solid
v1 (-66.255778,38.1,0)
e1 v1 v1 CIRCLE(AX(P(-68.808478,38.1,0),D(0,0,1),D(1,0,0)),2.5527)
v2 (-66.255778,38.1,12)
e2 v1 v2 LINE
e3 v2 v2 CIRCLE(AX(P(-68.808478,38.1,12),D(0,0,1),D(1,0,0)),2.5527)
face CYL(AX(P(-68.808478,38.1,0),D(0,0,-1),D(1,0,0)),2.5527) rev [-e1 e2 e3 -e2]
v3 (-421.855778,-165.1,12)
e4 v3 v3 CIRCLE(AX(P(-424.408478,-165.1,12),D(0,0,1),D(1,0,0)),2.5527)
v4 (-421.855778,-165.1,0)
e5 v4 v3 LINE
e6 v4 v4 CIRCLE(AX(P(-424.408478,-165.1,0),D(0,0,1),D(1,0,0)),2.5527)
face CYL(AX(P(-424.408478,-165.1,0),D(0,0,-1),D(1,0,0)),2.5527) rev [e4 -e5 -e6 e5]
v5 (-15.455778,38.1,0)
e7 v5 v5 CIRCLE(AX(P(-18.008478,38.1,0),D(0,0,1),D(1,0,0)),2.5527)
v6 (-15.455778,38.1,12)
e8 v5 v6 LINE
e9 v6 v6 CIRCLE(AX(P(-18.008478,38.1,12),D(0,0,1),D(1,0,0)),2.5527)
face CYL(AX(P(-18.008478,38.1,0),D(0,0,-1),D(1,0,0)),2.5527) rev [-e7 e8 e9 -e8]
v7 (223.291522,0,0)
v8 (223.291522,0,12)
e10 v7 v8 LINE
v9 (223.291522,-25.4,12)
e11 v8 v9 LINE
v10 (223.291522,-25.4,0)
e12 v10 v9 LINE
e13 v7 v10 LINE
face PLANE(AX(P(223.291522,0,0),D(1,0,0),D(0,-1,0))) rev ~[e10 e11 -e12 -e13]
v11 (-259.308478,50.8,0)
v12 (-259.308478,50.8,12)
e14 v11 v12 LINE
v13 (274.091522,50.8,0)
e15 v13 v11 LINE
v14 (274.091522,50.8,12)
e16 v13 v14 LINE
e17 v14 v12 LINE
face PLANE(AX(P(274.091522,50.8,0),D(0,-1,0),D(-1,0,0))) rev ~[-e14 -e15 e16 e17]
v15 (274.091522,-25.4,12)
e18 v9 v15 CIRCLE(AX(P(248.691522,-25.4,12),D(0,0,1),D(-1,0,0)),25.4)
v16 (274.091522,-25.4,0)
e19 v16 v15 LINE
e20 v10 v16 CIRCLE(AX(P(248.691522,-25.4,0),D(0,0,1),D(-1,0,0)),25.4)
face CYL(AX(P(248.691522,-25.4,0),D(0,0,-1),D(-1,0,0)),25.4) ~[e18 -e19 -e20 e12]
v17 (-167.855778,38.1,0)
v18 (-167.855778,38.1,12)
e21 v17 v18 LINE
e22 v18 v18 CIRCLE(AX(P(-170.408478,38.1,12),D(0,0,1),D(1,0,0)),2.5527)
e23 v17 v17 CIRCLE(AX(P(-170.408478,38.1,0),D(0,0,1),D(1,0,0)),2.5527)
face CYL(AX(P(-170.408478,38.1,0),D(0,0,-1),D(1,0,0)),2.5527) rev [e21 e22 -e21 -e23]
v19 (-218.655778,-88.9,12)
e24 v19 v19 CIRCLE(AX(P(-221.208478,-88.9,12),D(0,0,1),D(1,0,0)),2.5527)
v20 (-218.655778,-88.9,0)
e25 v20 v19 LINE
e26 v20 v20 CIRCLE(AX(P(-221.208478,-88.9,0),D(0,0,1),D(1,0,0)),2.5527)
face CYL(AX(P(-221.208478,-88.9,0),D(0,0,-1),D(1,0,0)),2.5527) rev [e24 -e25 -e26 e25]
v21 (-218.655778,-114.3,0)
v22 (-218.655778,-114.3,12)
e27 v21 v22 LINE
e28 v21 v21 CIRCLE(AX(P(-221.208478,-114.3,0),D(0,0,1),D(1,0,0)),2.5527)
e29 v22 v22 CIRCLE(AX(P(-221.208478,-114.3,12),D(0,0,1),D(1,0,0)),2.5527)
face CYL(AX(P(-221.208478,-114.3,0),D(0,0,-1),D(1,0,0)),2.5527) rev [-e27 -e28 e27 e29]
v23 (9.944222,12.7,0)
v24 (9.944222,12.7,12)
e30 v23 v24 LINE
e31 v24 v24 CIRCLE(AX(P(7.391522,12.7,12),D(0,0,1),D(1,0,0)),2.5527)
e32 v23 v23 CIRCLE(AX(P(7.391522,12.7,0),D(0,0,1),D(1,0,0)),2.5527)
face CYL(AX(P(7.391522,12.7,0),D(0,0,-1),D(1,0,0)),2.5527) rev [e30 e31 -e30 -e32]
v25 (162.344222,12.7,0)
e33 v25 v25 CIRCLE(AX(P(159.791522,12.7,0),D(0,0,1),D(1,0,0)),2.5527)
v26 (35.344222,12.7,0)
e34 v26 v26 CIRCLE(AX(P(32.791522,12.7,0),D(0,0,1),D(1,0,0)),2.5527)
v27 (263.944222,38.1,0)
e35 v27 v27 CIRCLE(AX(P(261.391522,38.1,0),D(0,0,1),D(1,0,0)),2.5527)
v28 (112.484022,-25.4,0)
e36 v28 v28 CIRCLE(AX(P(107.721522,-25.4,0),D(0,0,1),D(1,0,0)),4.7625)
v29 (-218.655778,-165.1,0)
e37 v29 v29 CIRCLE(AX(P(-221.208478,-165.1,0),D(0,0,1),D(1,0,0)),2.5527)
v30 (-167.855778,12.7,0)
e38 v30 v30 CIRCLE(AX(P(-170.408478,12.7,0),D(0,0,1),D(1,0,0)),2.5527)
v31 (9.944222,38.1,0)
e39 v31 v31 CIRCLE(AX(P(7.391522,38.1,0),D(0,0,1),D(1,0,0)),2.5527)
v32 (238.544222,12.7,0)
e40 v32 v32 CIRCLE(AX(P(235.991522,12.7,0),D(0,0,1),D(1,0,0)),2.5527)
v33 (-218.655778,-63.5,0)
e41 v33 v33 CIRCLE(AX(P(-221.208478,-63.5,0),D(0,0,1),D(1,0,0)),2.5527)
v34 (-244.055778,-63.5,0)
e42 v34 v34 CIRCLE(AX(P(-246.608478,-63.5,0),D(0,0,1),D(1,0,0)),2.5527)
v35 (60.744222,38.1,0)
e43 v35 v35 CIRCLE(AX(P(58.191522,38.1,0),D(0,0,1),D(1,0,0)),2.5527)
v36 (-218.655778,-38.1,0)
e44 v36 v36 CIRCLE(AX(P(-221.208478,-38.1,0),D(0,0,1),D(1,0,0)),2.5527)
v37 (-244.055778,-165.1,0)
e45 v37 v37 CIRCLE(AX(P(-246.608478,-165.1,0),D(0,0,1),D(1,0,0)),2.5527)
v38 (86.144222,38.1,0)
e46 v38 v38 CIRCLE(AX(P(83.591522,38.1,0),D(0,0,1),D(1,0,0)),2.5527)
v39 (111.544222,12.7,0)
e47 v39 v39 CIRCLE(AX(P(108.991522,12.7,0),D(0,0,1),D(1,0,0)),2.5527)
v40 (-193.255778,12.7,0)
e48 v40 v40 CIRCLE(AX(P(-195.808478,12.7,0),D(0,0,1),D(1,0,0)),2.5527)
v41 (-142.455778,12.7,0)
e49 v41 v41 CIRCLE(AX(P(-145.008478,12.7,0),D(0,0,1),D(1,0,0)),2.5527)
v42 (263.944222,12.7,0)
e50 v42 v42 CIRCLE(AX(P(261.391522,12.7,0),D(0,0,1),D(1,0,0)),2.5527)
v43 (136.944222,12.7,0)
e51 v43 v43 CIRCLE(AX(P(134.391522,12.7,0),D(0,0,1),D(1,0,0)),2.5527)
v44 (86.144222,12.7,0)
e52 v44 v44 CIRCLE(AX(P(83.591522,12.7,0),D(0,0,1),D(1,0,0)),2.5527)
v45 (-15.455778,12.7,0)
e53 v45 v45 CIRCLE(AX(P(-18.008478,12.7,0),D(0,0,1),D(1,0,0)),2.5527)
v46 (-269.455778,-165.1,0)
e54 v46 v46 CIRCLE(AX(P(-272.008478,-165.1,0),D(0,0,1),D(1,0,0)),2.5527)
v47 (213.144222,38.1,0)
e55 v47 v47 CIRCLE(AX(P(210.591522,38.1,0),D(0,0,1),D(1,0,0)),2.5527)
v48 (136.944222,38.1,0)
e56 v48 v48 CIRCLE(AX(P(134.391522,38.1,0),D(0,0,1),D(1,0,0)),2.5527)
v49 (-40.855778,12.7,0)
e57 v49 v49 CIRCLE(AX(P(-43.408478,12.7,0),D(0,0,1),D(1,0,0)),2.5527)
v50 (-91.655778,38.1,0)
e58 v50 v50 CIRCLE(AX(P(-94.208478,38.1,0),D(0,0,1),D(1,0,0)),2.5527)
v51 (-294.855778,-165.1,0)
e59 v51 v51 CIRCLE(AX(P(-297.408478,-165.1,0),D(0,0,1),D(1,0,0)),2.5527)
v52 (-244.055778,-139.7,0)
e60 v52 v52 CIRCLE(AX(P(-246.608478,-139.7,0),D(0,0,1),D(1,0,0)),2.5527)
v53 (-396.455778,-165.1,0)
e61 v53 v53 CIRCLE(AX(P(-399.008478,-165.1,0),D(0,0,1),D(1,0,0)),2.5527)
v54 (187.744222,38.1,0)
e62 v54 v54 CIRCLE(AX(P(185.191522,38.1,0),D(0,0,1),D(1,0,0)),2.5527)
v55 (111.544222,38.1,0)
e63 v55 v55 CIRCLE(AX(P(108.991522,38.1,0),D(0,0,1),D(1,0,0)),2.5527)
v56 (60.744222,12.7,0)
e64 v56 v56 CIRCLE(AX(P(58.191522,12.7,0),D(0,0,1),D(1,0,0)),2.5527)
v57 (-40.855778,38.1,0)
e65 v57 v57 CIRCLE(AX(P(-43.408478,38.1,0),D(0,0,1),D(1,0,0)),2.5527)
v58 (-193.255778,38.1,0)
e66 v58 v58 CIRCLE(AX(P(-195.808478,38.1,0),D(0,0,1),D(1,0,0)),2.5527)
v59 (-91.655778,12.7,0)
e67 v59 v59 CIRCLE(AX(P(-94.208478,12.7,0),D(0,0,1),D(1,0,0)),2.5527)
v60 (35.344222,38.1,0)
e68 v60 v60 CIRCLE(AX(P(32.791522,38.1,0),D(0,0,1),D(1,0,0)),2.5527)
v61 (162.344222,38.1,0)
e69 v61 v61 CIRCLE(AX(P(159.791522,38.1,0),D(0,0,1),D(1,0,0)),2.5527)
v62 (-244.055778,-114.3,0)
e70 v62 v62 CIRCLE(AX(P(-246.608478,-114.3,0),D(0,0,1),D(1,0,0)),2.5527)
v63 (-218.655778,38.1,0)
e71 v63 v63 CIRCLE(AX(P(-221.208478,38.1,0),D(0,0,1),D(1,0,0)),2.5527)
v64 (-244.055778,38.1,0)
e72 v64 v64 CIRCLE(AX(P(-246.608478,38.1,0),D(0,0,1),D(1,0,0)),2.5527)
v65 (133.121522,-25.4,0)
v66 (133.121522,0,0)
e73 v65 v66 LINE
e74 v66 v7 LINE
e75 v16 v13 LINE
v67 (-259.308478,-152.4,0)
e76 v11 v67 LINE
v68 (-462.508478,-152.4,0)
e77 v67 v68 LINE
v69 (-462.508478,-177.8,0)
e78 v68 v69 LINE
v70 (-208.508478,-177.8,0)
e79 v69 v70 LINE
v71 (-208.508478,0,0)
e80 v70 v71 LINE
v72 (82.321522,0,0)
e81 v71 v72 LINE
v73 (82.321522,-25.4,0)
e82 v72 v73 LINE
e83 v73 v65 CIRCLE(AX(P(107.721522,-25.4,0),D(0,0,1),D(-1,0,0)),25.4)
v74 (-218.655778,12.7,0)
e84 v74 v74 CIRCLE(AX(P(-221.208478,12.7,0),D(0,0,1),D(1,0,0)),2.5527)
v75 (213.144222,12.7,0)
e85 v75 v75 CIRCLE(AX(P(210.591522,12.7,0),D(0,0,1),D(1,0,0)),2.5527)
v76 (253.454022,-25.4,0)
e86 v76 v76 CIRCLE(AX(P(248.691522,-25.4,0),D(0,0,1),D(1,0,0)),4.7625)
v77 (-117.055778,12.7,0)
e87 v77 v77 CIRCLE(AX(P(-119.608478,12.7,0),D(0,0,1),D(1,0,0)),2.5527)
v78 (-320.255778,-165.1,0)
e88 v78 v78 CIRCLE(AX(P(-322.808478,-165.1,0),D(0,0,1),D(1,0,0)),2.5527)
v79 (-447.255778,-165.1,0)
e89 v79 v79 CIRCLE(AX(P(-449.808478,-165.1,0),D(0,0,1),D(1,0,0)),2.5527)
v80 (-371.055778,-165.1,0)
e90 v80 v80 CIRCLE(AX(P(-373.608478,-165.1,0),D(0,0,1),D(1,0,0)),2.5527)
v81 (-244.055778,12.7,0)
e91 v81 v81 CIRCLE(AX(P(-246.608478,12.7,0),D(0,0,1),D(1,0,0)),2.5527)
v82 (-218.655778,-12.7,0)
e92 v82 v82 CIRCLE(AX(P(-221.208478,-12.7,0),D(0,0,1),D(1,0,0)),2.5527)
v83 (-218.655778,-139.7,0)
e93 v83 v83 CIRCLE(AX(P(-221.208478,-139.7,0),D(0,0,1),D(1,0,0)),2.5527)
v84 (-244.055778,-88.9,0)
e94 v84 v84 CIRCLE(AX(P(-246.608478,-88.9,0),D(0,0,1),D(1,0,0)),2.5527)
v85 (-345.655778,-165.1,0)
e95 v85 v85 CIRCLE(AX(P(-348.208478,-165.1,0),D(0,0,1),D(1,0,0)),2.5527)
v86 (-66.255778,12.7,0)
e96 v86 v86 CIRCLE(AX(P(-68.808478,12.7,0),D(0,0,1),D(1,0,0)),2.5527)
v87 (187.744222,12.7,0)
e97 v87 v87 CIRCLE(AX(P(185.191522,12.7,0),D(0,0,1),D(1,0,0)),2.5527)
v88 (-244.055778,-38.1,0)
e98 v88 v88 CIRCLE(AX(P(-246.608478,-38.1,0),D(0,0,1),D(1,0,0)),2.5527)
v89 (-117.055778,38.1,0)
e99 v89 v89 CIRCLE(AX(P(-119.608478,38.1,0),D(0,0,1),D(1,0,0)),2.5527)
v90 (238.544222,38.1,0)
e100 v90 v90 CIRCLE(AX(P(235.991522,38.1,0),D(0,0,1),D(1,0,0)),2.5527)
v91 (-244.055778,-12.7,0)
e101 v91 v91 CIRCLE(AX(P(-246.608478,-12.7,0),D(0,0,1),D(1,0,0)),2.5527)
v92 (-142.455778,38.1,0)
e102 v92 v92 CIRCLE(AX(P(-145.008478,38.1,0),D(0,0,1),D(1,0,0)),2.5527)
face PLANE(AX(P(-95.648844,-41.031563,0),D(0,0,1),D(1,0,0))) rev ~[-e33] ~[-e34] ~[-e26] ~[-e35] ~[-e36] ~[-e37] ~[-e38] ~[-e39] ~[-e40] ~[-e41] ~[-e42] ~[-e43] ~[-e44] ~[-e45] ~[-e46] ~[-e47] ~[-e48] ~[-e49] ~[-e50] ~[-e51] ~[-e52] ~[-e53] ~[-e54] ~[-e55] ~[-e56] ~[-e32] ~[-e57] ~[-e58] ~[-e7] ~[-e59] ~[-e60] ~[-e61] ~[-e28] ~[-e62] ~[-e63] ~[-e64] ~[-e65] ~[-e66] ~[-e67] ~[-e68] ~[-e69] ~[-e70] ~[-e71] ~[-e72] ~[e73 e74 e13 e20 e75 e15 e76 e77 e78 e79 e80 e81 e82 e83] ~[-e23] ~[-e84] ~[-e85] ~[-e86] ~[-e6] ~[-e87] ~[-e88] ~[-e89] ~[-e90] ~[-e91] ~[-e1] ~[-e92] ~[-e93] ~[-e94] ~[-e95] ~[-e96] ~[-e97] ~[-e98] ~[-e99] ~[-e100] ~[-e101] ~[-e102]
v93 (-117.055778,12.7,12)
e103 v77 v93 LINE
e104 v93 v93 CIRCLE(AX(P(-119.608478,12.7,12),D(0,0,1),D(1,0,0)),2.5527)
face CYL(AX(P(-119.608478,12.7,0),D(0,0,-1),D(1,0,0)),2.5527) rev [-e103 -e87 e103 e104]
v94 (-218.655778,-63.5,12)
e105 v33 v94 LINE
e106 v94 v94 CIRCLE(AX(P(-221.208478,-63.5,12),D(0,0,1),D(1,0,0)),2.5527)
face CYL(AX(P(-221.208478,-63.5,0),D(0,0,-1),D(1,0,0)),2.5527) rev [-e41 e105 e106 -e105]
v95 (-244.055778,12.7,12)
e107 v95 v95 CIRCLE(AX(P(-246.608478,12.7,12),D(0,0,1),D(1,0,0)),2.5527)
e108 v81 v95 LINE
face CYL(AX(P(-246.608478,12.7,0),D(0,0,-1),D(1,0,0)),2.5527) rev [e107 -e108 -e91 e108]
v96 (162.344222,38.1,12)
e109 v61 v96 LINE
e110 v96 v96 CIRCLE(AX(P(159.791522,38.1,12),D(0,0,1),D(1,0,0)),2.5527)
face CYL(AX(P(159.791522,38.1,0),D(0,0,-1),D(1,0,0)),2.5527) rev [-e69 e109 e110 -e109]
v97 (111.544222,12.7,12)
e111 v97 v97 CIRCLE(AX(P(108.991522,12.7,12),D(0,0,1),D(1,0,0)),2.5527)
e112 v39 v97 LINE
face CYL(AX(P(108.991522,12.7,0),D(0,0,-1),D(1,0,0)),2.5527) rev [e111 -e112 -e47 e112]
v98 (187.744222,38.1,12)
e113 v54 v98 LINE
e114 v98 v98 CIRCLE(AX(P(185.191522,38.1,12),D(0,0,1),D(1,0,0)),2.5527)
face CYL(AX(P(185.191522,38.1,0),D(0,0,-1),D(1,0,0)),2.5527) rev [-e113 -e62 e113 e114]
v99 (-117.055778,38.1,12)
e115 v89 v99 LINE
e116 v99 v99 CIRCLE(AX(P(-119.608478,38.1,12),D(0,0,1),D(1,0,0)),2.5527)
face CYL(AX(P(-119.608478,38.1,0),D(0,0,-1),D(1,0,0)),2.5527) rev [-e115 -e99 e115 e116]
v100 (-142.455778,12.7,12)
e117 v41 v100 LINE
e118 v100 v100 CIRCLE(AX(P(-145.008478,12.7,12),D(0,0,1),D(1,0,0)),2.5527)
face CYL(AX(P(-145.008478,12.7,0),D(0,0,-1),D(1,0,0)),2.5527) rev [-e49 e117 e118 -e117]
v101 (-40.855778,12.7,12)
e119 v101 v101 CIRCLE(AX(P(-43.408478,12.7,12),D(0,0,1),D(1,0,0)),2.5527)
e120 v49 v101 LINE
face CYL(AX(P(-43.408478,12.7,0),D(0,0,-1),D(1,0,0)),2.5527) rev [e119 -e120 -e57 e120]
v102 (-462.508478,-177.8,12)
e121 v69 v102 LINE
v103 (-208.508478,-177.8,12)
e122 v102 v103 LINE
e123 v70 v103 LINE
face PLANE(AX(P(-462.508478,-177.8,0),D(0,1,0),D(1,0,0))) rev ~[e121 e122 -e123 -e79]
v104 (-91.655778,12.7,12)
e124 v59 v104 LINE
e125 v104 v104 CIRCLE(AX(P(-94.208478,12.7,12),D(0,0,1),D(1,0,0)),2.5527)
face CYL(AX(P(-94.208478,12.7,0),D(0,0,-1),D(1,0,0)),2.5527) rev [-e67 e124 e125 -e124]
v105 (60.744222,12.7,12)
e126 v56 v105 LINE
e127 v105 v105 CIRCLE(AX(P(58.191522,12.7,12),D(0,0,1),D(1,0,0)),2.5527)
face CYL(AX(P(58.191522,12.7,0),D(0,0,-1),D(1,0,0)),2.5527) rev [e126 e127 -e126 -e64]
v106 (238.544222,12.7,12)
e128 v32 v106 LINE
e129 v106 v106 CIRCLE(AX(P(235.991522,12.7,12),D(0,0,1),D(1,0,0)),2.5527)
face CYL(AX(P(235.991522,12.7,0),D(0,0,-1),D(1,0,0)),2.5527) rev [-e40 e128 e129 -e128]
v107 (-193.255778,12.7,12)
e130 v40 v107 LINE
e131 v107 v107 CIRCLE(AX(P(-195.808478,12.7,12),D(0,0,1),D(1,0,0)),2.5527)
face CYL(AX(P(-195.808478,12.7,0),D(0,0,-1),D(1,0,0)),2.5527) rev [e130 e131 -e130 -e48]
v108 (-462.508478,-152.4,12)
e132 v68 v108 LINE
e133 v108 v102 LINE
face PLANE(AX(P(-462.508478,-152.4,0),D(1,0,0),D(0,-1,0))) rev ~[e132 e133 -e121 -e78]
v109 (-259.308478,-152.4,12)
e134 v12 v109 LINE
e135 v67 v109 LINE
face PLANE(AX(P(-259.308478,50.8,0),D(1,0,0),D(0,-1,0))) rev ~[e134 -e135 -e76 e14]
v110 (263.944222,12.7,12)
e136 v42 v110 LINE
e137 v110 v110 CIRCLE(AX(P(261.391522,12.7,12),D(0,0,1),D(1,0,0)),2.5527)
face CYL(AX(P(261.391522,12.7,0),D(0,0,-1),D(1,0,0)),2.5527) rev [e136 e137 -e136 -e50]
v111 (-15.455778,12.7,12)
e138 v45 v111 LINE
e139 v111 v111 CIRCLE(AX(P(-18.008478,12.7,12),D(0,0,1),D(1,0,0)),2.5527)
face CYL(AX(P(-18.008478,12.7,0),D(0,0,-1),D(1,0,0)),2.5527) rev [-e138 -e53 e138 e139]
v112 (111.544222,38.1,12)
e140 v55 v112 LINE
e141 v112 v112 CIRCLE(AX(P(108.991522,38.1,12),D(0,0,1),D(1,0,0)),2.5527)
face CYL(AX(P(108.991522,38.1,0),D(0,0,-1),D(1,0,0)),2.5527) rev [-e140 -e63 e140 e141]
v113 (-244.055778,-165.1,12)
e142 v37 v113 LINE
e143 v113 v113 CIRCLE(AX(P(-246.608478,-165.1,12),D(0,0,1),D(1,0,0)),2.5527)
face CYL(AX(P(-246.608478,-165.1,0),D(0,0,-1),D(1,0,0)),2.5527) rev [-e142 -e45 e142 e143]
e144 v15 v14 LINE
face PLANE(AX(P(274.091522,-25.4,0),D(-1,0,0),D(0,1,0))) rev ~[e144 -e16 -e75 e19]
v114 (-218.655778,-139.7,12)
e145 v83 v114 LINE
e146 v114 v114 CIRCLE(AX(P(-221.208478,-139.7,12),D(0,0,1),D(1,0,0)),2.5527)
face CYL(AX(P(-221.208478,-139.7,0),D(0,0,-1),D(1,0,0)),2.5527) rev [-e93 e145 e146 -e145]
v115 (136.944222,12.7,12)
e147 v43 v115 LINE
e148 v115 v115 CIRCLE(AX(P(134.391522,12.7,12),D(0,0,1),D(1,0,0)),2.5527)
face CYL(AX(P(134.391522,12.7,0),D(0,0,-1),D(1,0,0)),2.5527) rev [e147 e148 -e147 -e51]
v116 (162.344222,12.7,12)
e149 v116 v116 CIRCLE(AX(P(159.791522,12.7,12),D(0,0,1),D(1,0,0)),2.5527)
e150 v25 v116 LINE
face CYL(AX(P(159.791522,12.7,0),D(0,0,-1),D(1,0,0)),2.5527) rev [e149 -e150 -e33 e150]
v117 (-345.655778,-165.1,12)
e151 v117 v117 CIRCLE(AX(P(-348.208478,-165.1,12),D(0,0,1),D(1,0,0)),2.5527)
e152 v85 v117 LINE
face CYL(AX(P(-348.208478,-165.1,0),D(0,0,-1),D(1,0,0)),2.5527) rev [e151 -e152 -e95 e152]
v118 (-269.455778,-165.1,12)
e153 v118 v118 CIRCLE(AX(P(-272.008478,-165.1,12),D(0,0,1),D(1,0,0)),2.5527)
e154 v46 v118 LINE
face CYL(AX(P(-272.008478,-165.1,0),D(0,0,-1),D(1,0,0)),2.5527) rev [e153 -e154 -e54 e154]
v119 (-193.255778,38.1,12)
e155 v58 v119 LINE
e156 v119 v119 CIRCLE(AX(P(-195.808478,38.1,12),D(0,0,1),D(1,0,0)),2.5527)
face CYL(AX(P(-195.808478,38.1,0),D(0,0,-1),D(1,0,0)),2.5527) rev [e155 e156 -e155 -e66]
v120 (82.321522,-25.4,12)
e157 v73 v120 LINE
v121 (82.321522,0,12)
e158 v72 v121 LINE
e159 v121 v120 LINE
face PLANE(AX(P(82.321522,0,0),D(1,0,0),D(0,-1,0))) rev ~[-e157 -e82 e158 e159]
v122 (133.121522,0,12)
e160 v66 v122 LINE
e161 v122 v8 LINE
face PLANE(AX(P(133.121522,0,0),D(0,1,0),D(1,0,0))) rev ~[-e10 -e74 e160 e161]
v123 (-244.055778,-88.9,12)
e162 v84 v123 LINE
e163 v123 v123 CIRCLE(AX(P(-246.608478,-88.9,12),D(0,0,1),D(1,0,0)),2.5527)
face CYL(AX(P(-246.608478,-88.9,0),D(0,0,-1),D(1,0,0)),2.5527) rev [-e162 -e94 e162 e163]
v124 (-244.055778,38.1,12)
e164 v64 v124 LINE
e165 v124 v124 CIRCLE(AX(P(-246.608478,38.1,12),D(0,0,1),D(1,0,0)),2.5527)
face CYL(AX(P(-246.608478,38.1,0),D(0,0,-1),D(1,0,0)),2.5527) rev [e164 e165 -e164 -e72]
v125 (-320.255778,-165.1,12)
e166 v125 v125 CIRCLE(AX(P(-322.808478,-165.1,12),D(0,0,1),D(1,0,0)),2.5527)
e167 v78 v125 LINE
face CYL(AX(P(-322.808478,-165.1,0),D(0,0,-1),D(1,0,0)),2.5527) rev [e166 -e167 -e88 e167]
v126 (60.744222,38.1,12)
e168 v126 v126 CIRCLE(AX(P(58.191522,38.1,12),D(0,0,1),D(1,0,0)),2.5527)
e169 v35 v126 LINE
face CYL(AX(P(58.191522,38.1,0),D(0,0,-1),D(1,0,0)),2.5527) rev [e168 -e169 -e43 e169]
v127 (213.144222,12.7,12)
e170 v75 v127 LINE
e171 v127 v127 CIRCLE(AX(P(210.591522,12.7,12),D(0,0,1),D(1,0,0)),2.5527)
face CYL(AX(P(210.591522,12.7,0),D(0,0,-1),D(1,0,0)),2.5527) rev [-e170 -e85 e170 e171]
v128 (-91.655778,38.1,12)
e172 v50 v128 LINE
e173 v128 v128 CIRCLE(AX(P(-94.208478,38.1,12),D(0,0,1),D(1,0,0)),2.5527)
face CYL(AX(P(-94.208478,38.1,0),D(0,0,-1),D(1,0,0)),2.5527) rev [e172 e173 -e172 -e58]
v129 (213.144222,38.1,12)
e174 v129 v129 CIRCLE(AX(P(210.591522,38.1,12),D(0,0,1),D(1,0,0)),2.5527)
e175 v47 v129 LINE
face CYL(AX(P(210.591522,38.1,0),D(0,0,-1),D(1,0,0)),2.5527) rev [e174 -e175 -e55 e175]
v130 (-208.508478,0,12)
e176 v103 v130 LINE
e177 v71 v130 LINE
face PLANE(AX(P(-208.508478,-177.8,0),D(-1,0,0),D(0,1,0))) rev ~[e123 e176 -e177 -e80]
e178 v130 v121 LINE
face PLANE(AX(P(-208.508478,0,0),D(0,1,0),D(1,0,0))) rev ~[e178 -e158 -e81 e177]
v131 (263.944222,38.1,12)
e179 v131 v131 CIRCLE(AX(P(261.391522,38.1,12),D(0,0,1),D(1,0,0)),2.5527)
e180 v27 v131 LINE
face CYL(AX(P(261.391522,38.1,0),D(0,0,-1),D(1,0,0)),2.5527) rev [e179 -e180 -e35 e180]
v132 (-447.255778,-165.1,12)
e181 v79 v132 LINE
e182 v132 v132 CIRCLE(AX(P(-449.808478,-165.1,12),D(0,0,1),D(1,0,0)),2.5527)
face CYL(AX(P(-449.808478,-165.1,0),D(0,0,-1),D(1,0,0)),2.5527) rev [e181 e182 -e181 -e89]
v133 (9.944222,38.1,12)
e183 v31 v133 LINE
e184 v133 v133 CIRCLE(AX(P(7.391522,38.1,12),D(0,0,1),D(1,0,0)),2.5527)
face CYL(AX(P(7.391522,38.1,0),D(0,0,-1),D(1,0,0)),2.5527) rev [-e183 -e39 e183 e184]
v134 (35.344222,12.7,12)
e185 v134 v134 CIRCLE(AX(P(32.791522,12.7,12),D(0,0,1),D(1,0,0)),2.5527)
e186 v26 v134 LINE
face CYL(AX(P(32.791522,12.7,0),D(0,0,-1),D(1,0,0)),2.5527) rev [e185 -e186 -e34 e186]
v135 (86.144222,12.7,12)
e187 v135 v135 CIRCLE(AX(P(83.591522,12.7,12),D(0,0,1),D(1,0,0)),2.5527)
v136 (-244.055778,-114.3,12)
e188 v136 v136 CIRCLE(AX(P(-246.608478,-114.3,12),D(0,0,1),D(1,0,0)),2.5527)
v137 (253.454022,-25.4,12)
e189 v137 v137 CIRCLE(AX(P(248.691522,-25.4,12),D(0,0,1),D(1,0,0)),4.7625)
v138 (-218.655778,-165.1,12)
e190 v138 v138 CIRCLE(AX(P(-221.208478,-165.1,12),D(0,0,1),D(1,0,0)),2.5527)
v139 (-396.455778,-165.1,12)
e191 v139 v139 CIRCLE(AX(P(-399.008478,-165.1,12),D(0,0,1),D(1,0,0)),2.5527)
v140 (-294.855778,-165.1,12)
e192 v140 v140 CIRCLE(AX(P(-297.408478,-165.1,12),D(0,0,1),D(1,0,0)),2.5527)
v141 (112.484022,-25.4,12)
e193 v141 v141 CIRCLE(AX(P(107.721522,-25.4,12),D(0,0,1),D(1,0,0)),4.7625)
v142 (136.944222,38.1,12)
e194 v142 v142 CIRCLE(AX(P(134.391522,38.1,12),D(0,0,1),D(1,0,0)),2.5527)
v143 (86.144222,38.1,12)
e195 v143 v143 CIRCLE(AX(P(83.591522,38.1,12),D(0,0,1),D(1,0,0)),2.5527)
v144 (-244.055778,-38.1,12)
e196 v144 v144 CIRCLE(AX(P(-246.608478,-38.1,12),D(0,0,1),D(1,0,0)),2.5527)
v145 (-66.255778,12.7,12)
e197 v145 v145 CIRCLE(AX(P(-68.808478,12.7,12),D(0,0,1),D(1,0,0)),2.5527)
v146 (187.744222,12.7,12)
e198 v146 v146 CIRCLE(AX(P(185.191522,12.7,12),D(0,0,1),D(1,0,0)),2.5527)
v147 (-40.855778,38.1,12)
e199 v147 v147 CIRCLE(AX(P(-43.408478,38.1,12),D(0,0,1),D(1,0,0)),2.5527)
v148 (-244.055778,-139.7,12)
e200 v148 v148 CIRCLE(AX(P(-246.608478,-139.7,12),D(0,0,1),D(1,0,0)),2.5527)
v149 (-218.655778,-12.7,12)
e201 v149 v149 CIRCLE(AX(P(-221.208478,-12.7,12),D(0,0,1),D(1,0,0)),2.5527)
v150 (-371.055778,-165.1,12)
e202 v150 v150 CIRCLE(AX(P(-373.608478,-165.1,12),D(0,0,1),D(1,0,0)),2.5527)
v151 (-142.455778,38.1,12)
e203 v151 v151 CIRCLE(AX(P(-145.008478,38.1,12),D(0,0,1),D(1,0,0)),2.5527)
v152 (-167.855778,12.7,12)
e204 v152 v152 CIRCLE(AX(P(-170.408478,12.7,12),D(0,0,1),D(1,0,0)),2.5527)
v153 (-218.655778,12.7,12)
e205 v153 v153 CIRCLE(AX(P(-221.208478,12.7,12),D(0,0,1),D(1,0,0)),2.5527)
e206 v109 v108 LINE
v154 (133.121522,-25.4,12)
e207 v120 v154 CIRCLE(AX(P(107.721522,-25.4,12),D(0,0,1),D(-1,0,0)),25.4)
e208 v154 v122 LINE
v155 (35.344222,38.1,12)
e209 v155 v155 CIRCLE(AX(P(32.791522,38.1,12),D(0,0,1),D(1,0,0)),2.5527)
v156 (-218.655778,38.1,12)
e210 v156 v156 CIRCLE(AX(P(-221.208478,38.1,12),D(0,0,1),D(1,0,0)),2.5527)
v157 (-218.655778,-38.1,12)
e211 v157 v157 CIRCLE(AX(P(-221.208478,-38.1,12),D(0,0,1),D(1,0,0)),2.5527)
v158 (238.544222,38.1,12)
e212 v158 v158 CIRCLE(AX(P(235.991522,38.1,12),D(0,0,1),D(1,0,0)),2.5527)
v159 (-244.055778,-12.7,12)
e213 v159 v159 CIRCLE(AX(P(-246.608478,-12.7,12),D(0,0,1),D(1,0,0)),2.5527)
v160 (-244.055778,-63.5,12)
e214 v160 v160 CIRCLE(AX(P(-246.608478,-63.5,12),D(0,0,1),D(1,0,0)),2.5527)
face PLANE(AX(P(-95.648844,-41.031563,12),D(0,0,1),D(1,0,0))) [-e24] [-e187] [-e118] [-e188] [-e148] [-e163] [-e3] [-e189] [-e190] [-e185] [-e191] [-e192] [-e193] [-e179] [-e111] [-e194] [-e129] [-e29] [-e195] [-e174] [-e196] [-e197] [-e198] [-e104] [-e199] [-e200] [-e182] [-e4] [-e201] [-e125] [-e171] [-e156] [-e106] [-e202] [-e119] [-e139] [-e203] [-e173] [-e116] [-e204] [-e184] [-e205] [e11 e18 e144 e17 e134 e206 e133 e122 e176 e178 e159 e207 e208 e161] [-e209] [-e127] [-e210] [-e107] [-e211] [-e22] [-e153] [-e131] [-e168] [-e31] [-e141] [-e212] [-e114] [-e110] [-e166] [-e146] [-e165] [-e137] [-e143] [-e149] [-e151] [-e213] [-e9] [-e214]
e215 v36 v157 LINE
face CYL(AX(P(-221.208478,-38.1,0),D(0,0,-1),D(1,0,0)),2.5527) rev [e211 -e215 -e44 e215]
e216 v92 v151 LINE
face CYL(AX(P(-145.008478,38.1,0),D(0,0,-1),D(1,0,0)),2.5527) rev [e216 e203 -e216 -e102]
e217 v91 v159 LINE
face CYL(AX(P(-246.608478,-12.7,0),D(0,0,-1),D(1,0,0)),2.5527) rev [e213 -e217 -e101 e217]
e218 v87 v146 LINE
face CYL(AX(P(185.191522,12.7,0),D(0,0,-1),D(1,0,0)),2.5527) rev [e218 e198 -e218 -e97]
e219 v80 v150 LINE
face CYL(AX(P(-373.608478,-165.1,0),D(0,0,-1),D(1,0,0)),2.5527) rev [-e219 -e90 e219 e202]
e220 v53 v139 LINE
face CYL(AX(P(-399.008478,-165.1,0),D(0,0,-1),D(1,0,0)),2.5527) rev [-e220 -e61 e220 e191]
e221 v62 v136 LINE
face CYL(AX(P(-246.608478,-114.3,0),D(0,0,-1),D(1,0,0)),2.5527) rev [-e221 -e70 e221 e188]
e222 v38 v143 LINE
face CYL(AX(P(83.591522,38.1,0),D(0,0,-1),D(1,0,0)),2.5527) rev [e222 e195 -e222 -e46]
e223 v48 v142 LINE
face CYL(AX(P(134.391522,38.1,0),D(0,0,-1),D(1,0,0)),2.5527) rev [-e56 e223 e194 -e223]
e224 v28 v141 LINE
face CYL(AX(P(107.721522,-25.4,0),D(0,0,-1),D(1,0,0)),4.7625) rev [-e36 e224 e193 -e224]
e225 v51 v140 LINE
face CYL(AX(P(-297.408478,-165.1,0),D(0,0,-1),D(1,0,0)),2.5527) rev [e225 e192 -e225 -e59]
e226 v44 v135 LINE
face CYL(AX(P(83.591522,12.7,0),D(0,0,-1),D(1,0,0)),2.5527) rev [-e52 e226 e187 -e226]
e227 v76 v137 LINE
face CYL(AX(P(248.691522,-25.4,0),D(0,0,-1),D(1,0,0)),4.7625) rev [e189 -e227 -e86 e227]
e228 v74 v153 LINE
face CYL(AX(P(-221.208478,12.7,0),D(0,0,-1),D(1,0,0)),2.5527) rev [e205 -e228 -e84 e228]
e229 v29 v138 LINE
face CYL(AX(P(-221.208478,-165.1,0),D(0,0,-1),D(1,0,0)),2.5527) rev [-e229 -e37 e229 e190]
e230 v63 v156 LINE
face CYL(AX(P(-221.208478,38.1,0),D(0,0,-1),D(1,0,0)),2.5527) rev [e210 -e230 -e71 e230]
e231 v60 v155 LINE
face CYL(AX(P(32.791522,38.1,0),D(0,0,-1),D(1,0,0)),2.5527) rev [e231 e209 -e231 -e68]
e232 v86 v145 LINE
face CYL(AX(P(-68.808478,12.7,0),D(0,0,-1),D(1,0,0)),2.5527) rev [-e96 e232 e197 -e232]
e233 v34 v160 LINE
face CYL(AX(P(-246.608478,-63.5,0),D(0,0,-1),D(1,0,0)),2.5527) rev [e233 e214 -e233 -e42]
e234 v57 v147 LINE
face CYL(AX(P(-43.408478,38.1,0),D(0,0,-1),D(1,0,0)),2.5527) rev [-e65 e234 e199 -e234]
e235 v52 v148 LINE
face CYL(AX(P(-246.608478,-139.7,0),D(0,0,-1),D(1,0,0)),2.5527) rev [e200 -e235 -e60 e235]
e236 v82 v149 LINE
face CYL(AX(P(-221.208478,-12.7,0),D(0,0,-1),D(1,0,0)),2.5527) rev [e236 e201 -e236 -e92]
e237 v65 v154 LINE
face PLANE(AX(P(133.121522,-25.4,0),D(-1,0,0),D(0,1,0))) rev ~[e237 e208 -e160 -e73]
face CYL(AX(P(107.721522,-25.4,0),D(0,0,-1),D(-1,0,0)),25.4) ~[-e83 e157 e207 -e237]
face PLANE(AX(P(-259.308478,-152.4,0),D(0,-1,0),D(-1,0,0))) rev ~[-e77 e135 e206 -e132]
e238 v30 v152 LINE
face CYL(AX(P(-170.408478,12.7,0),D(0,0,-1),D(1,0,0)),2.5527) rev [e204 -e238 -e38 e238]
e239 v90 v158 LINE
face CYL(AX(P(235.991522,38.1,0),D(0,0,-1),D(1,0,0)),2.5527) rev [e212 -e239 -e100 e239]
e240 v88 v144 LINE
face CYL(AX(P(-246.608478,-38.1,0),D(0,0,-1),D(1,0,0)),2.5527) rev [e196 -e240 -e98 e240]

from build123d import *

# Parameters (mm, degrees)
F0_R     = 2.5527
F0_R_2   = 4.7625
F1_DEPTH = 12


with BuildPart() as f1:
    # F0 (on Top) → F1 (new body)
    with BuildSketch(Plane.XY):
        with BuildLine():
            Line((274.091522, 50.8), (-259.308478, 50.8))
            Line((-259.308478, 50.8), (-259.308478, -152.4))
            Line((-259.308478, -152.4), (-462.508478, -152.4))
            Line((-462.508478, -152.4), (-462.508478, -177.8))
            Line((-462.508478, -177.8), (-208.508478, -177.8))
            Line((-208.508478, -177.8), (-208.508478, 0))
            Line((-208.508478, 0), (82.321522, 0))
            Line((82.321522, 0), (82.321522, -25.4))
            ThreePointArc((82.321522, -25.4), (107.721522, -50.8), (133.121522, -25.4))
            Line((133.121522, -25.4), (133.121522, 0))
            Line((133.121522, 0), (223.291522, 0))
            Line((223.291522, 0), (223.291522, -25.4))
            ThreePointArc((223.291522, -25.4), (248.691522, -50.8), (274.091522, -25.4))
            Line((274.091522, -25.4), (274.091522, 0))
            Line((274.091522, 0), (274.091522, 50.8))
        make_face()
        with Locations((-449.808478, -165.1)):
            Circle(F0_R, mode=Mode.SUBTRACT)
        with Locations((-424.408478, -165.1)):
            Circle(F0_R, mode=Mode.SUBTRACT)
        with Locations((-399.008478, -165.1)):
            Circle(F0_R, mode=Mode.SUBTRACT)
        with Locations((-373.608478, -165.1)):
            Circle(F0_R, mode=Mode.SUBTRACT)
        with Locations((-348.208478, -165.1)):
            Circle(F0_R, mode=Mode.SUBTRACT)
        with Locations((-322.808478, -165.1)):
            Circle(F0_R, mode=Mode.SUBTRACT)
        with Locations((-297.408478, -165.1)):
            Circle(F0_R, mode=Mode.SUBTRACT)
        with Locations((-272.008478, -165.1)):
            Circle(F0_R, mode=Mode.SUBTRACT)
        with Locations((-246.608478, -165.1)):
            Circle(F0_R, mode=Mode.SUBTRACT)
        with Locations((-221.208478, -165.1)):
            Circle(F0_R, mode=Mode.SUBTRACT)
        with Locations((-246.608478, -139.7)):
            Circle(F0_R, mode=Mode.SUBTRACT)
        with Locations((-221.208478, -139.7)):
            Circle(F0_R, mode=Mode.SUBTRACT)
        with Locations((-246.608478, -114.3)):
            Circle(F0_R, mode=Mode.SUBTRACT)
        with Locations((-221.208478, -114.3)):
            Circle(F0_R, mode=Mode.SUBTRACT)
        with Locations((-246.608478, -88.9)):
            Circle(F0_R, mode=Mode.SUBTRACT)
        with Locations((-221.208478, -88.9)):
            Circle(F0_R, mode=Mode.SUBTRACT)
        with Locations((-246.608478, -63.5)):
            Circle(F0_R, mode=Mode.SUBTRACT)
        with Locations((-221.208478, -63.5)):
            Circle(F0_R, mode=Mode.SUBTRACT)
        with Locations((-246.608478, -38.1)):
            Circle(F0_R, mode=Mode.SUBTRACT)
        with Locations((-221.208478, -38.1)):
            Circle(F0_R, mode=Mode.SUBTRACT)
        with Locations((-246.608478, -12.7)):
            Circle(F0_R, mode=Mode.SUBTRACT)
        with Locations((-221.208478, -12.7)):
            Circle(F0_R, mode=Mode.SUBTRACT)
        with Locations((-246.608478, 12.7)):
            Circle(F0_R, mode=Mode.SUBTRACT)
        with Locations((-221.208478, 12.7)):
            Circle(F0_R, mode=Mode.SUBTRACT)
        with Locations((-195.808478, 12.7)):
            Circle(F0_R, mode=Mode.SUBTRACT)
        with Locations((-170.408478, 12.7)):
            Circle(F0_R, mode=Mode.SUBTRACT)
        with Locations((-145.008478, 12.7)):
            Circle(F0_R, mode=Mode.SUBTRACT)
        with Locations((-119.608478, 12.7)):
            Circle(F0_R, mode=Mode.SUBTRACT)
        with Locations((-246.608478, 38.1)):
            Circle(F0_R, mode=Mode.SUBTRACT)
        with Locations((-221.208478, 38.1)):
            Circle(F0_R, mode=Mode.SUBTRACT)
        with Locations((-195.808478, 38.1)):
            Circle(F0_R, mode=Mode.SUBTRACT)
        with Locations((-170.408478, 38.1)):
            Circle(F0_R, mode=Mode.SUBTRACT)
        with Locations((-145.008478, 38.1)):
            Circle(F0_R, mode=Mode.SUBTRACT)
        with Locations((-119.608478, 38.1)):
            Circle(F0_R, mode=Mode.SUBTRACT)
        with Locations((107.721522, -25.4)):
            Circle(F0_R_2, mode=Mode.SUBTRACT)
        with Locations((248.691522, -25.4)):
            Circle(F0_R_2, mode=Mode.SUBTRACT)
        with Locations((-94.208478, 12.7)):
            Circle(F0_R, mode=Mode.SUBTRACT)
        with Locations((-68.808478, 12.7)):
            Circle(F0_R, mode=Mode.SUBTRACT)
        with Locations((-43.408478, 12.7)):
            Circle(F0_R, mode=Mode.SUBTRACT)
        with Locations((-18.008478, 12.7)):
            Circle(F0_R, mode=Mode.SUBTRACT)
        with Locations((7.391522, 12.7)):
            Circle(F0_R, mode=Mode.SUBTRACT)
        with Locations((32.791522, 12.7)):
            Circle(F0_R, mode=Mode.SUBTRACT)
        with Locations((58.191522, 12.7)):
            Circle(F0_R, mode=Mode.SUBTRACT)
        with Locations((83.591522, 12.7)):
            Circle(F0_R, mode=Mode.SUBTRACT)
        with Locations((-94.208478, 38.1)):
            Circle(F0_R, mode=Mode.SUBTRACT)
        with Locations((-68.808478, 38.1)):
            Circle(F0_R, mode=Mode.SUBTRACT)
        with Locations((-43.408478, 38.1)):
            Circle(F0_R, mode=Mode.SUBTRACT)
        with Locations((-18.008478, 38.1)):
            Circle(F0_R, mode=Mode.SUBTRACT)
        with Locations((7.391522, 38.1)):
            Circle(F0_R, mode=Mode.SUBTRACT)
        with Locations((32.791522, 38.1)):
            Circle(F0_R, mode=Mode.SUBTRACT)
        with Locations((58.191522, 38.1)):
            Circle(F0_R, mode=Mode.SUBTRACT)
        with Locations((83.591522, 38.1)):
            Circle(F0_R, mode=Mode.SUBTRACT)
        with Locations((108.991522, 12.7)):
            Circle(F0_R, mode=Mode.SUBTRACT)
        with Locations((134.391522, 12.7)):
            Circle(F0_R, mode=Mode.SUBTRACT)
        with Locations((159.791522, 12.7)):
            Circle(F0_R, mode=Mode.SUBTRACT)
        with Locations((185.191522, 12.7)):
            Circle(F0_R, mode=Mode.SUBTRACT)
        with Locations((210.591522, 12.7)):
            Circle(F0_R, mode=Mode.SUBTRACT)
        with Locations((235.991522, 12.7)):
            Circle(F0_R, mode=Mode.SUBTRACT)
        with Locations((261.391522, 12.7)):
            Circle(F0_R, mode=Mode.SUBTRACT)
        with Locations((108.991522, 38.1)):
            Circle(F0_R, mode=Mode.SUBTRACT)
        with Locations((134.391522, 38.1)):
            Circle(F0_R, mode=Mode.SUBTRACT)
        with Locations((159.791522, 38.1)):
            Circle(F0_R, mode=Mode.SUBTRACT)
        with Locations((185.191522, 38.1)):
            Circle(F0_R, mode=Mode.SUBTRACT)
        with Locations((210.591522, 38.1)):
            Circle(F0_R, mode=Mode.SUBTRACT)
        with Locations((235.991522, 38.1)):
            Circle(F0_R, mode=Mode.SUBTRACT)
        with Locations((261.391522, 38.1)):
            Circle(F0_R, mode=Mode.SUBTRACT)
    extrude(amount=F1_DEPTH)


solid = f1.part
